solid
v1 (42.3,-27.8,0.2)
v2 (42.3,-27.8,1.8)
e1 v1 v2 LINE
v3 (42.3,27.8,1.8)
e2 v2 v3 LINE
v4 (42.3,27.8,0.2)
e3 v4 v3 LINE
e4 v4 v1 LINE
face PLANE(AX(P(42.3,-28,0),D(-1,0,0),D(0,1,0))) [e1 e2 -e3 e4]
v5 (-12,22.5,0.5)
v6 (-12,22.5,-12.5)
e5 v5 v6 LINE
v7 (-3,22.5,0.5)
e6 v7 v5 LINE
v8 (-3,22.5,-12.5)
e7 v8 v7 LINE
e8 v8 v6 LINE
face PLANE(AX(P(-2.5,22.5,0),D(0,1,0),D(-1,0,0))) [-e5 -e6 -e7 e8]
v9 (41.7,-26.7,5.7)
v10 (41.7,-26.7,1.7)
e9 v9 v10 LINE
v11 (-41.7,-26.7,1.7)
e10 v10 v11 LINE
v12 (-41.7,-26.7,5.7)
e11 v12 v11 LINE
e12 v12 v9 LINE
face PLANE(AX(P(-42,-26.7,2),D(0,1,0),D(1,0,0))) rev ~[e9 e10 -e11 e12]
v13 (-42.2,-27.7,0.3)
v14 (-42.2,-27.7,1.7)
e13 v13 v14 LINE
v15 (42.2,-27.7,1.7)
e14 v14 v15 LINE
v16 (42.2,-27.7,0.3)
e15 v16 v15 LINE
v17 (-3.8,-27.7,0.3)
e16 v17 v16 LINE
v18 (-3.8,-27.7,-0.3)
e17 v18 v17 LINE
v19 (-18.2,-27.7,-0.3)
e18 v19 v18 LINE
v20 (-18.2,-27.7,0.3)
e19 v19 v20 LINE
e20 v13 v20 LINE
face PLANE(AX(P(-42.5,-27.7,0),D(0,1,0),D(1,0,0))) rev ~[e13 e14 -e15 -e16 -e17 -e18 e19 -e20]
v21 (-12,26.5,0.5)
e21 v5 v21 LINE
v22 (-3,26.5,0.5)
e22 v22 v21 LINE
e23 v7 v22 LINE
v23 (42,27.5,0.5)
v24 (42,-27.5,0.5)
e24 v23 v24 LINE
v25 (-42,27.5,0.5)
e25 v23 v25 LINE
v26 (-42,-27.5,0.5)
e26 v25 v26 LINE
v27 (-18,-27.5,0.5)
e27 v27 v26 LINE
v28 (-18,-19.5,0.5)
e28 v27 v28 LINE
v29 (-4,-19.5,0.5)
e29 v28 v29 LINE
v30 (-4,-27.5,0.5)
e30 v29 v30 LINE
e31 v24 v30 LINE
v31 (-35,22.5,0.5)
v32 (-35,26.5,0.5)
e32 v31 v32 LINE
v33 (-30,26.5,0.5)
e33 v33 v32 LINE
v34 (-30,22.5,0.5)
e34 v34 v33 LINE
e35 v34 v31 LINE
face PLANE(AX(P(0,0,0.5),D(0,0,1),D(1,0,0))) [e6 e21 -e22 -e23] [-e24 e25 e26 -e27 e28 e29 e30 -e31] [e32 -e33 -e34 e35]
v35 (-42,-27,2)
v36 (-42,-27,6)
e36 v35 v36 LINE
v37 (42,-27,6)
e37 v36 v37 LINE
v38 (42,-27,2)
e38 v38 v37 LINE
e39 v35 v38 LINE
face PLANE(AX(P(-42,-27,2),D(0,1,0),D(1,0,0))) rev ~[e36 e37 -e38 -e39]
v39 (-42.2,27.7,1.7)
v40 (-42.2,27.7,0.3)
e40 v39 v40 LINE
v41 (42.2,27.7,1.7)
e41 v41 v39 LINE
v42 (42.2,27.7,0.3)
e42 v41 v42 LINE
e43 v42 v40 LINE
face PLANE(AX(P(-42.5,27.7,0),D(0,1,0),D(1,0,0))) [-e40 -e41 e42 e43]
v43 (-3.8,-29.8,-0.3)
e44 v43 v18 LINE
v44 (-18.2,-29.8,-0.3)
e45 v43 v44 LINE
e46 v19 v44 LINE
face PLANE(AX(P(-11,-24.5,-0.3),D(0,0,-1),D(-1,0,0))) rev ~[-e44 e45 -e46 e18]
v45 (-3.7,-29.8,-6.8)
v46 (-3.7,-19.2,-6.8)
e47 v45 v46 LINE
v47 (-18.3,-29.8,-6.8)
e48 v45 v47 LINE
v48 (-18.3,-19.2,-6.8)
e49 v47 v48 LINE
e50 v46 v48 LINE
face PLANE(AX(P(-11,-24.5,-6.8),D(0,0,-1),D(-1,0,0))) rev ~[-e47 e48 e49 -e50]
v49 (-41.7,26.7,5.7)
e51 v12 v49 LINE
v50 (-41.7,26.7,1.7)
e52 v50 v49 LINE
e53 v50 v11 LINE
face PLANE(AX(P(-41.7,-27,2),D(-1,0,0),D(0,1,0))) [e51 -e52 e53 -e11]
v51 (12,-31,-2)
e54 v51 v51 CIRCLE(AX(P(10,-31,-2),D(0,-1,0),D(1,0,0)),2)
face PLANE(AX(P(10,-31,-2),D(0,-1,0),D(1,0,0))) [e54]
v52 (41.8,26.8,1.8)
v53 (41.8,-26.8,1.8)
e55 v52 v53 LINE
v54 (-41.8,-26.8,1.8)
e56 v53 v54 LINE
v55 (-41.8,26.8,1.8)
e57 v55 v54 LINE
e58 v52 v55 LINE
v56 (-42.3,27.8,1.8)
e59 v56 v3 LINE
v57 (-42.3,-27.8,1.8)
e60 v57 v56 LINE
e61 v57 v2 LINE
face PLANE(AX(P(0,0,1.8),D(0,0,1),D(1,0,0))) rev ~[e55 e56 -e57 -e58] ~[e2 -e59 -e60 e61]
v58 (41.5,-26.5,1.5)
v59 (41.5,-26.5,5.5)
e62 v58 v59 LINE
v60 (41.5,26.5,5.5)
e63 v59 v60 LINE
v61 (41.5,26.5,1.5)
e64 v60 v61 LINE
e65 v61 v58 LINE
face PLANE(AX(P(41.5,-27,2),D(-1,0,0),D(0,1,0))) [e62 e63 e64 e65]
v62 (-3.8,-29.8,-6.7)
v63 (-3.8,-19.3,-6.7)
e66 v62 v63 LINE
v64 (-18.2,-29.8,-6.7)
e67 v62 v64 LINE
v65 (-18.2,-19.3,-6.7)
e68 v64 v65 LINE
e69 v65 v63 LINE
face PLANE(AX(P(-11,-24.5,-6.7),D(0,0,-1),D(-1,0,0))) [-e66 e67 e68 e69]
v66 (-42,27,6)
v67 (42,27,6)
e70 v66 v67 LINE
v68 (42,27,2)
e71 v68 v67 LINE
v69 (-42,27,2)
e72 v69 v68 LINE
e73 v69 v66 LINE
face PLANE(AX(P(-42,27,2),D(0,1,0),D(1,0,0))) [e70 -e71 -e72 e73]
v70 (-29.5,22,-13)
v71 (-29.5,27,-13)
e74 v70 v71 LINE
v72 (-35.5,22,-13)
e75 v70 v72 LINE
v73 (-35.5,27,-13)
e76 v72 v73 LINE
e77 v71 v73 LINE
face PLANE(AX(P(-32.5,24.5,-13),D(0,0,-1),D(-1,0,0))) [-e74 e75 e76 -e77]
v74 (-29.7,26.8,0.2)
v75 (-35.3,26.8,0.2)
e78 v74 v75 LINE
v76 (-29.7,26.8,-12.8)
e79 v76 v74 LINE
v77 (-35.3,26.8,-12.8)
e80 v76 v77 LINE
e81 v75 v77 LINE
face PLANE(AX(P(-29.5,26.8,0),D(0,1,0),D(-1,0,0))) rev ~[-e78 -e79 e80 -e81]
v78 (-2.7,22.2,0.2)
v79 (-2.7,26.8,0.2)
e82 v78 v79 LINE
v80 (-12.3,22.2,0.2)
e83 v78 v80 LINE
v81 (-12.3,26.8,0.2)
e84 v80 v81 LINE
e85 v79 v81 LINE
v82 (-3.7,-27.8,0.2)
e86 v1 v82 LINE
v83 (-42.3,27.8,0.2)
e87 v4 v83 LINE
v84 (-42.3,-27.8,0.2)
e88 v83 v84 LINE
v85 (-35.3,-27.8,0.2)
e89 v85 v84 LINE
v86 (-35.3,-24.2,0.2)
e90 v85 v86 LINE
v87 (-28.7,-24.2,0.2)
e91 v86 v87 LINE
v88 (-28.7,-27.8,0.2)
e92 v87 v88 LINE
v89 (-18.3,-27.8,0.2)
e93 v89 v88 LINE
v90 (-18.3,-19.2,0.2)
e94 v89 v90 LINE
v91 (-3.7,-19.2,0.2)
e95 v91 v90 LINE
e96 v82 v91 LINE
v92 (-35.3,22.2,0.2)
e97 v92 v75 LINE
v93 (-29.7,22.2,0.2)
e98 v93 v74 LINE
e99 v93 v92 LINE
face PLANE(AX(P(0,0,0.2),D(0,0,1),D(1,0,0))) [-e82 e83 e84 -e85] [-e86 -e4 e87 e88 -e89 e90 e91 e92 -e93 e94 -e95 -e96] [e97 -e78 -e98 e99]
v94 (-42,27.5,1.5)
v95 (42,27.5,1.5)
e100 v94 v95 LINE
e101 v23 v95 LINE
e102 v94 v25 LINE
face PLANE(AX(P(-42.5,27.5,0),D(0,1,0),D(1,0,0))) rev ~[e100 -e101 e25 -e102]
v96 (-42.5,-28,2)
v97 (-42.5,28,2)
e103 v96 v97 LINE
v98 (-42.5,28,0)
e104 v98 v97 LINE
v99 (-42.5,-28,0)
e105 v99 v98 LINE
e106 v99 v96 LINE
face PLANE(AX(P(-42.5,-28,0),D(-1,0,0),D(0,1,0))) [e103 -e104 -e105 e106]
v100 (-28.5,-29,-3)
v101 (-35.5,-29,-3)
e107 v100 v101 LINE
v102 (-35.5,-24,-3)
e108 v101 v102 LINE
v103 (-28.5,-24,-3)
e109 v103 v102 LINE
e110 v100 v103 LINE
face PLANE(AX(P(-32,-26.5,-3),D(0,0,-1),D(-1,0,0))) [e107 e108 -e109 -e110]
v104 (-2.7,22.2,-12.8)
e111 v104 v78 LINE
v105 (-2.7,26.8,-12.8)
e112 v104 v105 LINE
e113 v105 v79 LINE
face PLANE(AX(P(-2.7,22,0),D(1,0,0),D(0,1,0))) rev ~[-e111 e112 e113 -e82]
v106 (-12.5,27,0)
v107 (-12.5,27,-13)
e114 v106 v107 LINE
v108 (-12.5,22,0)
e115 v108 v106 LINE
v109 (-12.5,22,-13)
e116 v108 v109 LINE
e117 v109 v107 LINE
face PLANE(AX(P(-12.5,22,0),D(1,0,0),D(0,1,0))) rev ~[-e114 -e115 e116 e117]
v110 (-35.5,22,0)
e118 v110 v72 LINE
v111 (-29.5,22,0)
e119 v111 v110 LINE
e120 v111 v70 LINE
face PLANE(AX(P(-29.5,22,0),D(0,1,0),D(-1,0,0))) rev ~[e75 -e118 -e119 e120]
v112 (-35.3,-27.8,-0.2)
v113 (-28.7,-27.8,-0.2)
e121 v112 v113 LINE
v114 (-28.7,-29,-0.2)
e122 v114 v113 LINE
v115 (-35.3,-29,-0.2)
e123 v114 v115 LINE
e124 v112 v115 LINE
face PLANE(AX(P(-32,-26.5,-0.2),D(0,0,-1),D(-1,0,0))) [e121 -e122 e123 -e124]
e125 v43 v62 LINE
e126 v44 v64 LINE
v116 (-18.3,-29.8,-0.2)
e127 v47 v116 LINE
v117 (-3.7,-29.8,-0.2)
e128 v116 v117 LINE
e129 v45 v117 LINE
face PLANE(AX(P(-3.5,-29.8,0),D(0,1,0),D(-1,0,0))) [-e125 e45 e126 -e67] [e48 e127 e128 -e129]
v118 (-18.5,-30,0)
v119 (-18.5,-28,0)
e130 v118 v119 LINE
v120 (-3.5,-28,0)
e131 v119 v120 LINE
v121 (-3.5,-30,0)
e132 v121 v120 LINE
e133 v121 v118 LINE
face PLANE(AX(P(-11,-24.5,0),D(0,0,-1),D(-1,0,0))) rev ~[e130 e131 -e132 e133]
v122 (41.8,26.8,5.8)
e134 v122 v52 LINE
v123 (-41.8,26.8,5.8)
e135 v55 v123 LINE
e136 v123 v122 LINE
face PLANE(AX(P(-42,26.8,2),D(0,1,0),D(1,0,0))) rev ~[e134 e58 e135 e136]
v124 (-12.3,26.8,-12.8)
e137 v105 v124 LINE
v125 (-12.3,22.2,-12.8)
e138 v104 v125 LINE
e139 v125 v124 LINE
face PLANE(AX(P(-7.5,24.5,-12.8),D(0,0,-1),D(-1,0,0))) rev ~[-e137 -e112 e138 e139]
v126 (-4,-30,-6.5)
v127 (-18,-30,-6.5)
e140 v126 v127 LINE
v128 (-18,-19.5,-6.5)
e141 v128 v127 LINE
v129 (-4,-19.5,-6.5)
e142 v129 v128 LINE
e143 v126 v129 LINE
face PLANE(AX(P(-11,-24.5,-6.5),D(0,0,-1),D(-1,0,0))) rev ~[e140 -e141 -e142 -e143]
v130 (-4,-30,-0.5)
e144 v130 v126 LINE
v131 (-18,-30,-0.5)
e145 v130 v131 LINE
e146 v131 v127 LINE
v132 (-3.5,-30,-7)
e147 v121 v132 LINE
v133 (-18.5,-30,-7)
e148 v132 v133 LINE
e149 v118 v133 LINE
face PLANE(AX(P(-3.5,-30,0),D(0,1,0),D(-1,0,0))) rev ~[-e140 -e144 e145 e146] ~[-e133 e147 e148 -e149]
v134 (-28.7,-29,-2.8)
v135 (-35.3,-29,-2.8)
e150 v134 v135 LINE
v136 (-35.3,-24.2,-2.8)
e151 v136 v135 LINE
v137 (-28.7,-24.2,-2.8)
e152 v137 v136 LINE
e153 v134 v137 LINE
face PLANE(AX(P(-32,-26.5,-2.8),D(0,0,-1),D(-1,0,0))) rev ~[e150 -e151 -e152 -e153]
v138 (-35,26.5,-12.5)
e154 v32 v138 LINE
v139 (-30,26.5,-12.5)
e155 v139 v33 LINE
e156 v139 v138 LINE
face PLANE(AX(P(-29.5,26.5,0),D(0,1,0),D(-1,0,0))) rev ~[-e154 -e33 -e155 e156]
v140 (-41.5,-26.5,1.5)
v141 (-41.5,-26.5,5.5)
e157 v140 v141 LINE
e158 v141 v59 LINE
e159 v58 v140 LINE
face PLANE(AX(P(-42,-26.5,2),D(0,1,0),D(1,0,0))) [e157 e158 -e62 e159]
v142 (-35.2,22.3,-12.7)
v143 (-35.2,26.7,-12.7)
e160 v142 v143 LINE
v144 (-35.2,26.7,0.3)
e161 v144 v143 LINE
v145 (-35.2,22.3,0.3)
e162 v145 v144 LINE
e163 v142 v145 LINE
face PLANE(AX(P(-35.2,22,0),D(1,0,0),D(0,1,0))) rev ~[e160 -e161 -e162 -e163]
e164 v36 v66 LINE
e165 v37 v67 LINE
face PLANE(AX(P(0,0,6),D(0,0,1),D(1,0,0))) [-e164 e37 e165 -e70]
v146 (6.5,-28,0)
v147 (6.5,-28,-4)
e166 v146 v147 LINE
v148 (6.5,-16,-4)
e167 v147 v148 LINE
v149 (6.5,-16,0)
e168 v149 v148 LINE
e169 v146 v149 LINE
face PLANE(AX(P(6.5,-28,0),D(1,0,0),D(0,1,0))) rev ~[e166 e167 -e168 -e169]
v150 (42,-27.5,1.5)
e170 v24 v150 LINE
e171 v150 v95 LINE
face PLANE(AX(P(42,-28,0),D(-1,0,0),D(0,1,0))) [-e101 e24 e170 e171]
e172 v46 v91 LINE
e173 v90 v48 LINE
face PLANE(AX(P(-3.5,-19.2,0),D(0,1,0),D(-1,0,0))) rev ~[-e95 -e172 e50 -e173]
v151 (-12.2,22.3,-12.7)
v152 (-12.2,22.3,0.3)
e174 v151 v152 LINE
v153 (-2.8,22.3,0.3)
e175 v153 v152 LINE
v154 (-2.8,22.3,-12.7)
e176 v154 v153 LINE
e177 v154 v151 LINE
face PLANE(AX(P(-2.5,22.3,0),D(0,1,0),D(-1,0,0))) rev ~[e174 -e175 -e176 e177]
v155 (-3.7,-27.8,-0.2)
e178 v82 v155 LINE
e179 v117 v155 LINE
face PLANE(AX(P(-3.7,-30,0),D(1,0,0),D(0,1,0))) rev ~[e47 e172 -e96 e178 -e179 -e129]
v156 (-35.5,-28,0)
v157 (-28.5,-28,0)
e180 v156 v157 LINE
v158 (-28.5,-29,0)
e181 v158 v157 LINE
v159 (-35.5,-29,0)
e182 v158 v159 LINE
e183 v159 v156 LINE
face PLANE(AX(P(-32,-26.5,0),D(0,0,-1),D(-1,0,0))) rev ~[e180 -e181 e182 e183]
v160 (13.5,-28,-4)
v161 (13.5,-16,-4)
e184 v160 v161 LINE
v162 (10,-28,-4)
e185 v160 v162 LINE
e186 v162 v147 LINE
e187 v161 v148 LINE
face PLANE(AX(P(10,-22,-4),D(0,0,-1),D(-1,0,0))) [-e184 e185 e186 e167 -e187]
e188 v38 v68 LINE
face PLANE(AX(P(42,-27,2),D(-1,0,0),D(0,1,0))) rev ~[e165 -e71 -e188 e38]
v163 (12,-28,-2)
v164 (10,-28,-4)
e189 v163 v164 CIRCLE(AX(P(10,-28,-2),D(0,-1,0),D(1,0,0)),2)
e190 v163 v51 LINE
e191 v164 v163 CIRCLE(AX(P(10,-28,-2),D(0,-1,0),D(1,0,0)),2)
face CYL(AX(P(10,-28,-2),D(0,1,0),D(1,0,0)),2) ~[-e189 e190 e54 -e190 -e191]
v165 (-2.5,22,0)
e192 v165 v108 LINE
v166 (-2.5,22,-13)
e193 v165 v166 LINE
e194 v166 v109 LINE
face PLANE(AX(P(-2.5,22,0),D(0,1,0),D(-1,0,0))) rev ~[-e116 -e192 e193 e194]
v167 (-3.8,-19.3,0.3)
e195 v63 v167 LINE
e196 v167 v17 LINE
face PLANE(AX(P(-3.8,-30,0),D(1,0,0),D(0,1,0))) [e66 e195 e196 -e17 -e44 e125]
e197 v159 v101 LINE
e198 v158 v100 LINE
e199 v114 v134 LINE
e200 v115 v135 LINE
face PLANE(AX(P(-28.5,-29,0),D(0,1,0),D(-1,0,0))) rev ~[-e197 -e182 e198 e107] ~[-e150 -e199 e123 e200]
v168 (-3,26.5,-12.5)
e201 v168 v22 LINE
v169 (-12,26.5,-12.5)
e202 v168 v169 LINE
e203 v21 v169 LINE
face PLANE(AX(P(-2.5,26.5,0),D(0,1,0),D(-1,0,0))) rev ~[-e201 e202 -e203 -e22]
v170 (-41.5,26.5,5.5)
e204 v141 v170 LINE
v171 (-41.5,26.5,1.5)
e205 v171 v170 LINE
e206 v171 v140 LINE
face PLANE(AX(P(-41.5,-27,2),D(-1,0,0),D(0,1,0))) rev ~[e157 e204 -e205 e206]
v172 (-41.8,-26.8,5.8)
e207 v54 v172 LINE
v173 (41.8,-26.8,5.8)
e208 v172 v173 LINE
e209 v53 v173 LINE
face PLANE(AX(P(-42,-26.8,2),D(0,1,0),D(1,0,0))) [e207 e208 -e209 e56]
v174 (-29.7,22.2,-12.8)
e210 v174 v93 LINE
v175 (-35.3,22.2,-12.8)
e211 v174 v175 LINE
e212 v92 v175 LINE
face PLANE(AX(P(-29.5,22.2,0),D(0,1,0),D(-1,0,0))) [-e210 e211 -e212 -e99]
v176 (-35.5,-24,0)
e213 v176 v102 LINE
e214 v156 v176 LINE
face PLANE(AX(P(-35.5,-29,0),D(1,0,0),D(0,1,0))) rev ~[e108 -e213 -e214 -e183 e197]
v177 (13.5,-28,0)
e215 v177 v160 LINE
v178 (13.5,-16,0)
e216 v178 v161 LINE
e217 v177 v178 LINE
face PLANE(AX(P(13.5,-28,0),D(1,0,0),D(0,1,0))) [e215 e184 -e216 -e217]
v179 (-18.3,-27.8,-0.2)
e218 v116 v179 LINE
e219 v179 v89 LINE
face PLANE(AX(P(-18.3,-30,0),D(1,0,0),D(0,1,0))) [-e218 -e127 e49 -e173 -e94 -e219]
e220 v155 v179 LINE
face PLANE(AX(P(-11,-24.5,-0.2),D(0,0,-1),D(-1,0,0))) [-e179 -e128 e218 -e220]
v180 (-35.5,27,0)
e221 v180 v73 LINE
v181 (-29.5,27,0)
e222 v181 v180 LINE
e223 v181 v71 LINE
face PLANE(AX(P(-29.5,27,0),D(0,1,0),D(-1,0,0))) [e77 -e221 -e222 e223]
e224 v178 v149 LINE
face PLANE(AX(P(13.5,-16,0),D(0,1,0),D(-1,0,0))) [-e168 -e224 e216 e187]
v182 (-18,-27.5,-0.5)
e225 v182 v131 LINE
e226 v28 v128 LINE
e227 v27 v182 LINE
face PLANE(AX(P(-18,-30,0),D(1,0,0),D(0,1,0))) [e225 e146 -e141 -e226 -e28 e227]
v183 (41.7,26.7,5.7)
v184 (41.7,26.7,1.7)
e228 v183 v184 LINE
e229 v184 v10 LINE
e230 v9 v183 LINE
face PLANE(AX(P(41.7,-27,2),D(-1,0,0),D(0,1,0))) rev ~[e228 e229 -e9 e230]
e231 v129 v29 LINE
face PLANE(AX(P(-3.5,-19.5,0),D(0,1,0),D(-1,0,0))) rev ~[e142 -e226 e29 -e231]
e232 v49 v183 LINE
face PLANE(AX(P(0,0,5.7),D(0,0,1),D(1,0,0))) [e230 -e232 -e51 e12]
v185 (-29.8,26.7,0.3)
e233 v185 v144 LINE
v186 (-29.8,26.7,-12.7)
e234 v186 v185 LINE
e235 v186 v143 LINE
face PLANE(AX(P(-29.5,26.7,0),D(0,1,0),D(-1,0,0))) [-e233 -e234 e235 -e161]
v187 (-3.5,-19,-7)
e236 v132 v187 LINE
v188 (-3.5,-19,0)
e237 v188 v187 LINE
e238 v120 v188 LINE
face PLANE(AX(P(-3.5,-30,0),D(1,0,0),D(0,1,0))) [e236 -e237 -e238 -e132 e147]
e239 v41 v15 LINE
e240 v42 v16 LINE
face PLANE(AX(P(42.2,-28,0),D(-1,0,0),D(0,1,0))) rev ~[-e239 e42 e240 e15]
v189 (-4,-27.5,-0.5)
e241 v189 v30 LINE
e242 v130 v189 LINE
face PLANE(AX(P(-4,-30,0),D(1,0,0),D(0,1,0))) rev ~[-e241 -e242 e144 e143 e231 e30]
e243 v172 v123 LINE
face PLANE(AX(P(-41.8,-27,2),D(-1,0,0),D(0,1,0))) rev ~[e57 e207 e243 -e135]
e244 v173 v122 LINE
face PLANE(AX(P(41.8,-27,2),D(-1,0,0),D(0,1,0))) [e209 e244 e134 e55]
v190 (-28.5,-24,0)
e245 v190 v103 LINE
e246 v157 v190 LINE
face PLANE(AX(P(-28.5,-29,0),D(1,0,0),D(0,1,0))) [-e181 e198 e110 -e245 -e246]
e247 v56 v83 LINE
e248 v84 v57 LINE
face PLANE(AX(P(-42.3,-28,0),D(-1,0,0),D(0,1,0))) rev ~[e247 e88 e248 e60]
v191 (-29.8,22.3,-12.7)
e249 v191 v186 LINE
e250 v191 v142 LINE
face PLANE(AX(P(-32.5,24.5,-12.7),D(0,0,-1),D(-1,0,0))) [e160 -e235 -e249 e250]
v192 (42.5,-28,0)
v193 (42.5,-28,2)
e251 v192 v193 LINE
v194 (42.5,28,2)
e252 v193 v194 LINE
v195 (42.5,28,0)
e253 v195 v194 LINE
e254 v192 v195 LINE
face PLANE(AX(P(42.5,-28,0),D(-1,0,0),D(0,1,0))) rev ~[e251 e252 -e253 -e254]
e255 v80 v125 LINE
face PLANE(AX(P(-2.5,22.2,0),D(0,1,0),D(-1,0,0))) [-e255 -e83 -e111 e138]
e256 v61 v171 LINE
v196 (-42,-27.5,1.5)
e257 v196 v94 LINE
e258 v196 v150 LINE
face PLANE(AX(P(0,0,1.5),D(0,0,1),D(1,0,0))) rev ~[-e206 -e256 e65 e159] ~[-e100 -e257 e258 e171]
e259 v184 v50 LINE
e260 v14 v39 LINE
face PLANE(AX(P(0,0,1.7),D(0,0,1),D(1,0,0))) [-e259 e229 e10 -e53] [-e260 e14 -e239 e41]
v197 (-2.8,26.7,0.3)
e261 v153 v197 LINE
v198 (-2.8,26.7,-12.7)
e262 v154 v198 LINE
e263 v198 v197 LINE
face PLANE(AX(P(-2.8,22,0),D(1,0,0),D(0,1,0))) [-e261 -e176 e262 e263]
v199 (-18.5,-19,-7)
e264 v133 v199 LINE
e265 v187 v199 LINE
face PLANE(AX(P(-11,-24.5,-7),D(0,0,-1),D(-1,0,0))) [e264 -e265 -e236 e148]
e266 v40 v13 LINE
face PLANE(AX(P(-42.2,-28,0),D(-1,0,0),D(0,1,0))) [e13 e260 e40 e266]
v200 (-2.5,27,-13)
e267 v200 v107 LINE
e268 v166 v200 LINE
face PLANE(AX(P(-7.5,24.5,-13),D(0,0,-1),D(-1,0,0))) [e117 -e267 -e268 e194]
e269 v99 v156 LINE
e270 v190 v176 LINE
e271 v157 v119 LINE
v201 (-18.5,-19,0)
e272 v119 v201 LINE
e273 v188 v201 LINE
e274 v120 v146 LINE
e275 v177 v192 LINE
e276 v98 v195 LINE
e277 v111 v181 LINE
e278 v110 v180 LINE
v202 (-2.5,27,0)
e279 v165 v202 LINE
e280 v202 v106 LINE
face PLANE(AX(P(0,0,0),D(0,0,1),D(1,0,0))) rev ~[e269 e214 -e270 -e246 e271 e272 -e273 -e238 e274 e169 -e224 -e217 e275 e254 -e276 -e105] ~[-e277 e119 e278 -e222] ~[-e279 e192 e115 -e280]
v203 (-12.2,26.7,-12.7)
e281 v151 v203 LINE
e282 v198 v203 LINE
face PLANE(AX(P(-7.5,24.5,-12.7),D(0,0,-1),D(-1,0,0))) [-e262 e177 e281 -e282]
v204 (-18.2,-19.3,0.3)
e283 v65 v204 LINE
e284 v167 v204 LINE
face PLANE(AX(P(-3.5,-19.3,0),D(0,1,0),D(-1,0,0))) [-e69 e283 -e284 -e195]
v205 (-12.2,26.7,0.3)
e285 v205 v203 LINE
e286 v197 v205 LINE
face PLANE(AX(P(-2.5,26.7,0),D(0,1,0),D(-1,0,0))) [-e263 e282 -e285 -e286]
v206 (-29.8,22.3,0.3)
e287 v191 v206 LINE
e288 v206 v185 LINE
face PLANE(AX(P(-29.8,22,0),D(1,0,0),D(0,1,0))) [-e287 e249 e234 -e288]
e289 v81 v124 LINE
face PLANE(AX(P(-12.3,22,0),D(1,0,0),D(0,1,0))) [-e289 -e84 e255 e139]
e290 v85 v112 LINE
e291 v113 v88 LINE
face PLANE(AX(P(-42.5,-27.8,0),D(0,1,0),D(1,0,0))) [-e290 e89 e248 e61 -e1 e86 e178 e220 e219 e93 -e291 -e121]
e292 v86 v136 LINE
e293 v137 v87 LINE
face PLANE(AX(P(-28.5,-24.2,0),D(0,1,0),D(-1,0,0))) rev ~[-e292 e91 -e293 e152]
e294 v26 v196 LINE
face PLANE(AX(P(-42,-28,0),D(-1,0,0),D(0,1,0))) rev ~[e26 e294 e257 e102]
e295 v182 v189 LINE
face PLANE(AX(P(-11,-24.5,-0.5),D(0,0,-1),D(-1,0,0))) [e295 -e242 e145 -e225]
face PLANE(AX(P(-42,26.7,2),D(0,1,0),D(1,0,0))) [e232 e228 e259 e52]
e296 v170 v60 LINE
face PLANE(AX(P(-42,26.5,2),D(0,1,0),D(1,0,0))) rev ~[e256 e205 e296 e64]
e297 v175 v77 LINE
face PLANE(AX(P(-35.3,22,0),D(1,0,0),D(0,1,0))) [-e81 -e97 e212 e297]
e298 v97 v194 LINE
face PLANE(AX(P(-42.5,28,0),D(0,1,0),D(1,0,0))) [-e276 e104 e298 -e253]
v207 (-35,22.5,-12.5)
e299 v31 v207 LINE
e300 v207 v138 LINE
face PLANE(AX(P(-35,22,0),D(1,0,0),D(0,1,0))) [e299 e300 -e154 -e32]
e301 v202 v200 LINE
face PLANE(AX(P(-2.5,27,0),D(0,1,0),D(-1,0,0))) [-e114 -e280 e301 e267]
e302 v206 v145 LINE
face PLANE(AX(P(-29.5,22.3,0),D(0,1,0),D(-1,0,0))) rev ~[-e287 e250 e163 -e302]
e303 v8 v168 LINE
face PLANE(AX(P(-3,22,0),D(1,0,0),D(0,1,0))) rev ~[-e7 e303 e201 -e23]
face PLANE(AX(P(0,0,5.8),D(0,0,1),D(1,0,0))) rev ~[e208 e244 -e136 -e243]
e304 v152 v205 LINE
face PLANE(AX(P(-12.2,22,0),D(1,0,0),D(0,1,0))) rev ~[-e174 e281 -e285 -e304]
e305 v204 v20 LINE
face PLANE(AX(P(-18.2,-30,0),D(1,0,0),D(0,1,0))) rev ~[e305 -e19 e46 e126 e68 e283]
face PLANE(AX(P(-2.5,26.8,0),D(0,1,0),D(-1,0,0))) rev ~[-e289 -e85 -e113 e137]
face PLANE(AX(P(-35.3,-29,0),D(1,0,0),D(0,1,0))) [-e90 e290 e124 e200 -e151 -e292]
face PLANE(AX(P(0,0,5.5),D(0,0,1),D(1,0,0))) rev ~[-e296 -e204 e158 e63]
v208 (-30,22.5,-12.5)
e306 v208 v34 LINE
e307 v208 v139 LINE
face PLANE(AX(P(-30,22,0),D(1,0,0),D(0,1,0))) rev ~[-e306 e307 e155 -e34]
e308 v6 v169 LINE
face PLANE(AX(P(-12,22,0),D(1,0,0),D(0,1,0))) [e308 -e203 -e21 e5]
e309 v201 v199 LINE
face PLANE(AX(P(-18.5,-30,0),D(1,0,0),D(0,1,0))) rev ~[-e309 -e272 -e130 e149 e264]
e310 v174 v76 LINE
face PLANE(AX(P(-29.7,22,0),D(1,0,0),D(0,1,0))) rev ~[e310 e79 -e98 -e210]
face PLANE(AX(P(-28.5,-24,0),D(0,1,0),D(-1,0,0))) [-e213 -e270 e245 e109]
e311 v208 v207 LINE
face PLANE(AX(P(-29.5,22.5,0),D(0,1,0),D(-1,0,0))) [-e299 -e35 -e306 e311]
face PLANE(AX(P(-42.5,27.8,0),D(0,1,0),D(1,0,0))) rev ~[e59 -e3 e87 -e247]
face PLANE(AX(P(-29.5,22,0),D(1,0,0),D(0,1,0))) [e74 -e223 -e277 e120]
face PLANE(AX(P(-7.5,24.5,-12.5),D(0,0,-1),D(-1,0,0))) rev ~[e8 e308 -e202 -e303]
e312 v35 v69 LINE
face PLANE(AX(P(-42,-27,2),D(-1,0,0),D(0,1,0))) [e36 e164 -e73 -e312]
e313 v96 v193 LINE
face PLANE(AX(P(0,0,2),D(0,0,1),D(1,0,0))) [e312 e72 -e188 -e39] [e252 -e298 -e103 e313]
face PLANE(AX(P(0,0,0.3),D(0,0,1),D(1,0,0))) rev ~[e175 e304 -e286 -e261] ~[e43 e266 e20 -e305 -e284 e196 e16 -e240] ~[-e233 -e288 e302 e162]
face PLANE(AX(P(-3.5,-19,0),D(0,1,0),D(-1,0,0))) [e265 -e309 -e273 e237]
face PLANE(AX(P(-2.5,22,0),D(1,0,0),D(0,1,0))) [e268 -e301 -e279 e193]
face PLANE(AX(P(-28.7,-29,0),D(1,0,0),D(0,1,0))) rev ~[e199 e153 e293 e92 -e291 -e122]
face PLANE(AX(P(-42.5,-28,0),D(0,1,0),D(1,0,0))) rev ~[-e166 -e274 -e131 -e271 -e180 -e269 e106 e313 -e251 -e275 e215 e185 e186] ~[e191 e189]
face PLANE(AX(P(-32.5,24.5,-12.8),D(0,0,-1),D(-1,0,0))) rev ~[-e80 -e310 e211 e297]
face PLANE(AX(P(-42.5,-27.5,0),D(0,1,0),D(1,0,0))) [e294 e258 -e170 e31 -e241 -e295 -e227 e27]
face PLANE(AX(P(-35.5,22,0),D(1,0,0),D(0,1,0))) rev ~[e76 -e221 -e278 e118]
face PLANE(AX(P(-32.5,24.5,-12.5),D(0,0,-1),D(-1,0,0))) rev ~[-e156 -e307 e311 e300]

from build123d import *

# Parameters (mm, degrees)
ESQUISSE1_W        = 85
ESQUISSE1_H        = 56
BOSS_EXTRU_1_DEPTH = 2
ESQUISSE2_W        = 84
ESQUISSE2_H        = 54
BOSS_EXTRU_2_DEPTH = 4
ESQUISSE3_W        = 6
ESQUISSE3_H        = 5
ESQUISSE3_W_2      = 10
BOSS_EXTRU_3_DEPTH = 13
ESQUISSE4_W        = 15
ESQUISSE4_H        = 11
BOSS_EXTRU_4_DEPTH = 7
COQUE1_T           = -0.5
ESQUISSE5_W        = 7
ESQUISSE5_H        = 5
BOSS_EXTRU_5_DEPTH = 3
COQUE2_T           = -0.2
ESQUISSE6_W        = 7
ESQUISSE6_H        = 12
BOSS_EXTRU_6_DEPTH = 4
ESQUISSE7_R        = 2
BOSS_EXTRU_7_DEPTH = 3


with BuildPart() as part:
    # Esquisse1 → Boss.-Extru.1 (new body)
    with BuildSketch(Plane.XY):
        Rectangle(ESQUISSE1_W, ESQUISSE1_H)
    extrude(amount=BOSS_EXTRU_1_DEPTH)

    # Esquisse2 → Boss.-Extru.2 (add)
    with BuildSketch(Plane.XY.offset(2)):
        Rectangle(ESQUISSE2_W, ESQUISSE2_H)
    extrude(amount=BOSS_EXTRU_2_DEPTH)

    # Esquisse3 → Boss.-Extru.3 (add)
    with BuildSketch(Plane(origin=(0, 0, 0), x_dir=(-1, 0, 0), z_dir=(0, 0, -1))):
        with Locations((32.5, 24.5)):
            Rectangle(ESQUISSE3_W, ESQUISSE3_H)
        with Locations((7.5, 24.5)):
            Rectangle(ESQUISSE3_W_2, ESQUISSE3_H)
    extrude(amount=BOSS_EXTRU_3_DEPTH)

    # Esquisse4 → Boss.-Extru.4 (add)
    with BuildSketch(Plane(origin=(0, 0, 0), x_dir=(-1, 0, 0), z_dir=(0, 0, -1))):
        with Locations((11, -24.5)):
            Rectangle(ESQUISSE4_W, ESQUISSE4_H)
    extrude(amount=BOSS_EXTRU_4_DEPTH)

    # Coque1
    coque1_openings = [part.faces().sort_by_distance(p)[0] for p in [
        (-11, -30, -3.5),
    ]]
    offset(amount=COQUE1_T, openings=coque1_openings, kind=Kind.INTERSECTION)

    # Esquisse5 → Boss.-Extru.5 (add)
    with BuildSketch(Plane(origin=(0, 0, 0), x_dir=(-1, 0, 0), z_dir=(0, 0, -1))):
        with Locations((32, -26.5)):
            Rectangle(ESQUISSE5_W, ESQUISSE5_H)
    extrude(amount=BOSS_EXTRU_5_DEPTH)

    # Coque2
    coque2_openings = [part.faces().sort_by_distance(p)[0] for p in [
        (-32, -29, -1.5),
    ]]
    offset(amount=COQUE2_T, openings=coque2_openings, kind=Kind.INTERSECTION)

    # Esquisse6 → Boss.-Extru.6 (add)
    with BuildSketch(Plane(origin=(0, 0, 0), x_dir=(-1, 0, 0), z_dir=(0, 0, -1))):
        with Locations((-10, -22)):
            Rectangle(ESQUISSE6_W, ESQUISSE6_H)
    extrude(amount=BOSS_EXTRU_6_DEPTH)

    # Esquisse7 → Boss.-Extru.7 (add)
    with BuildSketch(Plane.XZ.offset(28)):
        with Locations((10, -2)):
            Circle(ESQUISSE7_R)
    extrude(amount=BOSS_EXTRU_7_DEPTH)


solid = part.part
